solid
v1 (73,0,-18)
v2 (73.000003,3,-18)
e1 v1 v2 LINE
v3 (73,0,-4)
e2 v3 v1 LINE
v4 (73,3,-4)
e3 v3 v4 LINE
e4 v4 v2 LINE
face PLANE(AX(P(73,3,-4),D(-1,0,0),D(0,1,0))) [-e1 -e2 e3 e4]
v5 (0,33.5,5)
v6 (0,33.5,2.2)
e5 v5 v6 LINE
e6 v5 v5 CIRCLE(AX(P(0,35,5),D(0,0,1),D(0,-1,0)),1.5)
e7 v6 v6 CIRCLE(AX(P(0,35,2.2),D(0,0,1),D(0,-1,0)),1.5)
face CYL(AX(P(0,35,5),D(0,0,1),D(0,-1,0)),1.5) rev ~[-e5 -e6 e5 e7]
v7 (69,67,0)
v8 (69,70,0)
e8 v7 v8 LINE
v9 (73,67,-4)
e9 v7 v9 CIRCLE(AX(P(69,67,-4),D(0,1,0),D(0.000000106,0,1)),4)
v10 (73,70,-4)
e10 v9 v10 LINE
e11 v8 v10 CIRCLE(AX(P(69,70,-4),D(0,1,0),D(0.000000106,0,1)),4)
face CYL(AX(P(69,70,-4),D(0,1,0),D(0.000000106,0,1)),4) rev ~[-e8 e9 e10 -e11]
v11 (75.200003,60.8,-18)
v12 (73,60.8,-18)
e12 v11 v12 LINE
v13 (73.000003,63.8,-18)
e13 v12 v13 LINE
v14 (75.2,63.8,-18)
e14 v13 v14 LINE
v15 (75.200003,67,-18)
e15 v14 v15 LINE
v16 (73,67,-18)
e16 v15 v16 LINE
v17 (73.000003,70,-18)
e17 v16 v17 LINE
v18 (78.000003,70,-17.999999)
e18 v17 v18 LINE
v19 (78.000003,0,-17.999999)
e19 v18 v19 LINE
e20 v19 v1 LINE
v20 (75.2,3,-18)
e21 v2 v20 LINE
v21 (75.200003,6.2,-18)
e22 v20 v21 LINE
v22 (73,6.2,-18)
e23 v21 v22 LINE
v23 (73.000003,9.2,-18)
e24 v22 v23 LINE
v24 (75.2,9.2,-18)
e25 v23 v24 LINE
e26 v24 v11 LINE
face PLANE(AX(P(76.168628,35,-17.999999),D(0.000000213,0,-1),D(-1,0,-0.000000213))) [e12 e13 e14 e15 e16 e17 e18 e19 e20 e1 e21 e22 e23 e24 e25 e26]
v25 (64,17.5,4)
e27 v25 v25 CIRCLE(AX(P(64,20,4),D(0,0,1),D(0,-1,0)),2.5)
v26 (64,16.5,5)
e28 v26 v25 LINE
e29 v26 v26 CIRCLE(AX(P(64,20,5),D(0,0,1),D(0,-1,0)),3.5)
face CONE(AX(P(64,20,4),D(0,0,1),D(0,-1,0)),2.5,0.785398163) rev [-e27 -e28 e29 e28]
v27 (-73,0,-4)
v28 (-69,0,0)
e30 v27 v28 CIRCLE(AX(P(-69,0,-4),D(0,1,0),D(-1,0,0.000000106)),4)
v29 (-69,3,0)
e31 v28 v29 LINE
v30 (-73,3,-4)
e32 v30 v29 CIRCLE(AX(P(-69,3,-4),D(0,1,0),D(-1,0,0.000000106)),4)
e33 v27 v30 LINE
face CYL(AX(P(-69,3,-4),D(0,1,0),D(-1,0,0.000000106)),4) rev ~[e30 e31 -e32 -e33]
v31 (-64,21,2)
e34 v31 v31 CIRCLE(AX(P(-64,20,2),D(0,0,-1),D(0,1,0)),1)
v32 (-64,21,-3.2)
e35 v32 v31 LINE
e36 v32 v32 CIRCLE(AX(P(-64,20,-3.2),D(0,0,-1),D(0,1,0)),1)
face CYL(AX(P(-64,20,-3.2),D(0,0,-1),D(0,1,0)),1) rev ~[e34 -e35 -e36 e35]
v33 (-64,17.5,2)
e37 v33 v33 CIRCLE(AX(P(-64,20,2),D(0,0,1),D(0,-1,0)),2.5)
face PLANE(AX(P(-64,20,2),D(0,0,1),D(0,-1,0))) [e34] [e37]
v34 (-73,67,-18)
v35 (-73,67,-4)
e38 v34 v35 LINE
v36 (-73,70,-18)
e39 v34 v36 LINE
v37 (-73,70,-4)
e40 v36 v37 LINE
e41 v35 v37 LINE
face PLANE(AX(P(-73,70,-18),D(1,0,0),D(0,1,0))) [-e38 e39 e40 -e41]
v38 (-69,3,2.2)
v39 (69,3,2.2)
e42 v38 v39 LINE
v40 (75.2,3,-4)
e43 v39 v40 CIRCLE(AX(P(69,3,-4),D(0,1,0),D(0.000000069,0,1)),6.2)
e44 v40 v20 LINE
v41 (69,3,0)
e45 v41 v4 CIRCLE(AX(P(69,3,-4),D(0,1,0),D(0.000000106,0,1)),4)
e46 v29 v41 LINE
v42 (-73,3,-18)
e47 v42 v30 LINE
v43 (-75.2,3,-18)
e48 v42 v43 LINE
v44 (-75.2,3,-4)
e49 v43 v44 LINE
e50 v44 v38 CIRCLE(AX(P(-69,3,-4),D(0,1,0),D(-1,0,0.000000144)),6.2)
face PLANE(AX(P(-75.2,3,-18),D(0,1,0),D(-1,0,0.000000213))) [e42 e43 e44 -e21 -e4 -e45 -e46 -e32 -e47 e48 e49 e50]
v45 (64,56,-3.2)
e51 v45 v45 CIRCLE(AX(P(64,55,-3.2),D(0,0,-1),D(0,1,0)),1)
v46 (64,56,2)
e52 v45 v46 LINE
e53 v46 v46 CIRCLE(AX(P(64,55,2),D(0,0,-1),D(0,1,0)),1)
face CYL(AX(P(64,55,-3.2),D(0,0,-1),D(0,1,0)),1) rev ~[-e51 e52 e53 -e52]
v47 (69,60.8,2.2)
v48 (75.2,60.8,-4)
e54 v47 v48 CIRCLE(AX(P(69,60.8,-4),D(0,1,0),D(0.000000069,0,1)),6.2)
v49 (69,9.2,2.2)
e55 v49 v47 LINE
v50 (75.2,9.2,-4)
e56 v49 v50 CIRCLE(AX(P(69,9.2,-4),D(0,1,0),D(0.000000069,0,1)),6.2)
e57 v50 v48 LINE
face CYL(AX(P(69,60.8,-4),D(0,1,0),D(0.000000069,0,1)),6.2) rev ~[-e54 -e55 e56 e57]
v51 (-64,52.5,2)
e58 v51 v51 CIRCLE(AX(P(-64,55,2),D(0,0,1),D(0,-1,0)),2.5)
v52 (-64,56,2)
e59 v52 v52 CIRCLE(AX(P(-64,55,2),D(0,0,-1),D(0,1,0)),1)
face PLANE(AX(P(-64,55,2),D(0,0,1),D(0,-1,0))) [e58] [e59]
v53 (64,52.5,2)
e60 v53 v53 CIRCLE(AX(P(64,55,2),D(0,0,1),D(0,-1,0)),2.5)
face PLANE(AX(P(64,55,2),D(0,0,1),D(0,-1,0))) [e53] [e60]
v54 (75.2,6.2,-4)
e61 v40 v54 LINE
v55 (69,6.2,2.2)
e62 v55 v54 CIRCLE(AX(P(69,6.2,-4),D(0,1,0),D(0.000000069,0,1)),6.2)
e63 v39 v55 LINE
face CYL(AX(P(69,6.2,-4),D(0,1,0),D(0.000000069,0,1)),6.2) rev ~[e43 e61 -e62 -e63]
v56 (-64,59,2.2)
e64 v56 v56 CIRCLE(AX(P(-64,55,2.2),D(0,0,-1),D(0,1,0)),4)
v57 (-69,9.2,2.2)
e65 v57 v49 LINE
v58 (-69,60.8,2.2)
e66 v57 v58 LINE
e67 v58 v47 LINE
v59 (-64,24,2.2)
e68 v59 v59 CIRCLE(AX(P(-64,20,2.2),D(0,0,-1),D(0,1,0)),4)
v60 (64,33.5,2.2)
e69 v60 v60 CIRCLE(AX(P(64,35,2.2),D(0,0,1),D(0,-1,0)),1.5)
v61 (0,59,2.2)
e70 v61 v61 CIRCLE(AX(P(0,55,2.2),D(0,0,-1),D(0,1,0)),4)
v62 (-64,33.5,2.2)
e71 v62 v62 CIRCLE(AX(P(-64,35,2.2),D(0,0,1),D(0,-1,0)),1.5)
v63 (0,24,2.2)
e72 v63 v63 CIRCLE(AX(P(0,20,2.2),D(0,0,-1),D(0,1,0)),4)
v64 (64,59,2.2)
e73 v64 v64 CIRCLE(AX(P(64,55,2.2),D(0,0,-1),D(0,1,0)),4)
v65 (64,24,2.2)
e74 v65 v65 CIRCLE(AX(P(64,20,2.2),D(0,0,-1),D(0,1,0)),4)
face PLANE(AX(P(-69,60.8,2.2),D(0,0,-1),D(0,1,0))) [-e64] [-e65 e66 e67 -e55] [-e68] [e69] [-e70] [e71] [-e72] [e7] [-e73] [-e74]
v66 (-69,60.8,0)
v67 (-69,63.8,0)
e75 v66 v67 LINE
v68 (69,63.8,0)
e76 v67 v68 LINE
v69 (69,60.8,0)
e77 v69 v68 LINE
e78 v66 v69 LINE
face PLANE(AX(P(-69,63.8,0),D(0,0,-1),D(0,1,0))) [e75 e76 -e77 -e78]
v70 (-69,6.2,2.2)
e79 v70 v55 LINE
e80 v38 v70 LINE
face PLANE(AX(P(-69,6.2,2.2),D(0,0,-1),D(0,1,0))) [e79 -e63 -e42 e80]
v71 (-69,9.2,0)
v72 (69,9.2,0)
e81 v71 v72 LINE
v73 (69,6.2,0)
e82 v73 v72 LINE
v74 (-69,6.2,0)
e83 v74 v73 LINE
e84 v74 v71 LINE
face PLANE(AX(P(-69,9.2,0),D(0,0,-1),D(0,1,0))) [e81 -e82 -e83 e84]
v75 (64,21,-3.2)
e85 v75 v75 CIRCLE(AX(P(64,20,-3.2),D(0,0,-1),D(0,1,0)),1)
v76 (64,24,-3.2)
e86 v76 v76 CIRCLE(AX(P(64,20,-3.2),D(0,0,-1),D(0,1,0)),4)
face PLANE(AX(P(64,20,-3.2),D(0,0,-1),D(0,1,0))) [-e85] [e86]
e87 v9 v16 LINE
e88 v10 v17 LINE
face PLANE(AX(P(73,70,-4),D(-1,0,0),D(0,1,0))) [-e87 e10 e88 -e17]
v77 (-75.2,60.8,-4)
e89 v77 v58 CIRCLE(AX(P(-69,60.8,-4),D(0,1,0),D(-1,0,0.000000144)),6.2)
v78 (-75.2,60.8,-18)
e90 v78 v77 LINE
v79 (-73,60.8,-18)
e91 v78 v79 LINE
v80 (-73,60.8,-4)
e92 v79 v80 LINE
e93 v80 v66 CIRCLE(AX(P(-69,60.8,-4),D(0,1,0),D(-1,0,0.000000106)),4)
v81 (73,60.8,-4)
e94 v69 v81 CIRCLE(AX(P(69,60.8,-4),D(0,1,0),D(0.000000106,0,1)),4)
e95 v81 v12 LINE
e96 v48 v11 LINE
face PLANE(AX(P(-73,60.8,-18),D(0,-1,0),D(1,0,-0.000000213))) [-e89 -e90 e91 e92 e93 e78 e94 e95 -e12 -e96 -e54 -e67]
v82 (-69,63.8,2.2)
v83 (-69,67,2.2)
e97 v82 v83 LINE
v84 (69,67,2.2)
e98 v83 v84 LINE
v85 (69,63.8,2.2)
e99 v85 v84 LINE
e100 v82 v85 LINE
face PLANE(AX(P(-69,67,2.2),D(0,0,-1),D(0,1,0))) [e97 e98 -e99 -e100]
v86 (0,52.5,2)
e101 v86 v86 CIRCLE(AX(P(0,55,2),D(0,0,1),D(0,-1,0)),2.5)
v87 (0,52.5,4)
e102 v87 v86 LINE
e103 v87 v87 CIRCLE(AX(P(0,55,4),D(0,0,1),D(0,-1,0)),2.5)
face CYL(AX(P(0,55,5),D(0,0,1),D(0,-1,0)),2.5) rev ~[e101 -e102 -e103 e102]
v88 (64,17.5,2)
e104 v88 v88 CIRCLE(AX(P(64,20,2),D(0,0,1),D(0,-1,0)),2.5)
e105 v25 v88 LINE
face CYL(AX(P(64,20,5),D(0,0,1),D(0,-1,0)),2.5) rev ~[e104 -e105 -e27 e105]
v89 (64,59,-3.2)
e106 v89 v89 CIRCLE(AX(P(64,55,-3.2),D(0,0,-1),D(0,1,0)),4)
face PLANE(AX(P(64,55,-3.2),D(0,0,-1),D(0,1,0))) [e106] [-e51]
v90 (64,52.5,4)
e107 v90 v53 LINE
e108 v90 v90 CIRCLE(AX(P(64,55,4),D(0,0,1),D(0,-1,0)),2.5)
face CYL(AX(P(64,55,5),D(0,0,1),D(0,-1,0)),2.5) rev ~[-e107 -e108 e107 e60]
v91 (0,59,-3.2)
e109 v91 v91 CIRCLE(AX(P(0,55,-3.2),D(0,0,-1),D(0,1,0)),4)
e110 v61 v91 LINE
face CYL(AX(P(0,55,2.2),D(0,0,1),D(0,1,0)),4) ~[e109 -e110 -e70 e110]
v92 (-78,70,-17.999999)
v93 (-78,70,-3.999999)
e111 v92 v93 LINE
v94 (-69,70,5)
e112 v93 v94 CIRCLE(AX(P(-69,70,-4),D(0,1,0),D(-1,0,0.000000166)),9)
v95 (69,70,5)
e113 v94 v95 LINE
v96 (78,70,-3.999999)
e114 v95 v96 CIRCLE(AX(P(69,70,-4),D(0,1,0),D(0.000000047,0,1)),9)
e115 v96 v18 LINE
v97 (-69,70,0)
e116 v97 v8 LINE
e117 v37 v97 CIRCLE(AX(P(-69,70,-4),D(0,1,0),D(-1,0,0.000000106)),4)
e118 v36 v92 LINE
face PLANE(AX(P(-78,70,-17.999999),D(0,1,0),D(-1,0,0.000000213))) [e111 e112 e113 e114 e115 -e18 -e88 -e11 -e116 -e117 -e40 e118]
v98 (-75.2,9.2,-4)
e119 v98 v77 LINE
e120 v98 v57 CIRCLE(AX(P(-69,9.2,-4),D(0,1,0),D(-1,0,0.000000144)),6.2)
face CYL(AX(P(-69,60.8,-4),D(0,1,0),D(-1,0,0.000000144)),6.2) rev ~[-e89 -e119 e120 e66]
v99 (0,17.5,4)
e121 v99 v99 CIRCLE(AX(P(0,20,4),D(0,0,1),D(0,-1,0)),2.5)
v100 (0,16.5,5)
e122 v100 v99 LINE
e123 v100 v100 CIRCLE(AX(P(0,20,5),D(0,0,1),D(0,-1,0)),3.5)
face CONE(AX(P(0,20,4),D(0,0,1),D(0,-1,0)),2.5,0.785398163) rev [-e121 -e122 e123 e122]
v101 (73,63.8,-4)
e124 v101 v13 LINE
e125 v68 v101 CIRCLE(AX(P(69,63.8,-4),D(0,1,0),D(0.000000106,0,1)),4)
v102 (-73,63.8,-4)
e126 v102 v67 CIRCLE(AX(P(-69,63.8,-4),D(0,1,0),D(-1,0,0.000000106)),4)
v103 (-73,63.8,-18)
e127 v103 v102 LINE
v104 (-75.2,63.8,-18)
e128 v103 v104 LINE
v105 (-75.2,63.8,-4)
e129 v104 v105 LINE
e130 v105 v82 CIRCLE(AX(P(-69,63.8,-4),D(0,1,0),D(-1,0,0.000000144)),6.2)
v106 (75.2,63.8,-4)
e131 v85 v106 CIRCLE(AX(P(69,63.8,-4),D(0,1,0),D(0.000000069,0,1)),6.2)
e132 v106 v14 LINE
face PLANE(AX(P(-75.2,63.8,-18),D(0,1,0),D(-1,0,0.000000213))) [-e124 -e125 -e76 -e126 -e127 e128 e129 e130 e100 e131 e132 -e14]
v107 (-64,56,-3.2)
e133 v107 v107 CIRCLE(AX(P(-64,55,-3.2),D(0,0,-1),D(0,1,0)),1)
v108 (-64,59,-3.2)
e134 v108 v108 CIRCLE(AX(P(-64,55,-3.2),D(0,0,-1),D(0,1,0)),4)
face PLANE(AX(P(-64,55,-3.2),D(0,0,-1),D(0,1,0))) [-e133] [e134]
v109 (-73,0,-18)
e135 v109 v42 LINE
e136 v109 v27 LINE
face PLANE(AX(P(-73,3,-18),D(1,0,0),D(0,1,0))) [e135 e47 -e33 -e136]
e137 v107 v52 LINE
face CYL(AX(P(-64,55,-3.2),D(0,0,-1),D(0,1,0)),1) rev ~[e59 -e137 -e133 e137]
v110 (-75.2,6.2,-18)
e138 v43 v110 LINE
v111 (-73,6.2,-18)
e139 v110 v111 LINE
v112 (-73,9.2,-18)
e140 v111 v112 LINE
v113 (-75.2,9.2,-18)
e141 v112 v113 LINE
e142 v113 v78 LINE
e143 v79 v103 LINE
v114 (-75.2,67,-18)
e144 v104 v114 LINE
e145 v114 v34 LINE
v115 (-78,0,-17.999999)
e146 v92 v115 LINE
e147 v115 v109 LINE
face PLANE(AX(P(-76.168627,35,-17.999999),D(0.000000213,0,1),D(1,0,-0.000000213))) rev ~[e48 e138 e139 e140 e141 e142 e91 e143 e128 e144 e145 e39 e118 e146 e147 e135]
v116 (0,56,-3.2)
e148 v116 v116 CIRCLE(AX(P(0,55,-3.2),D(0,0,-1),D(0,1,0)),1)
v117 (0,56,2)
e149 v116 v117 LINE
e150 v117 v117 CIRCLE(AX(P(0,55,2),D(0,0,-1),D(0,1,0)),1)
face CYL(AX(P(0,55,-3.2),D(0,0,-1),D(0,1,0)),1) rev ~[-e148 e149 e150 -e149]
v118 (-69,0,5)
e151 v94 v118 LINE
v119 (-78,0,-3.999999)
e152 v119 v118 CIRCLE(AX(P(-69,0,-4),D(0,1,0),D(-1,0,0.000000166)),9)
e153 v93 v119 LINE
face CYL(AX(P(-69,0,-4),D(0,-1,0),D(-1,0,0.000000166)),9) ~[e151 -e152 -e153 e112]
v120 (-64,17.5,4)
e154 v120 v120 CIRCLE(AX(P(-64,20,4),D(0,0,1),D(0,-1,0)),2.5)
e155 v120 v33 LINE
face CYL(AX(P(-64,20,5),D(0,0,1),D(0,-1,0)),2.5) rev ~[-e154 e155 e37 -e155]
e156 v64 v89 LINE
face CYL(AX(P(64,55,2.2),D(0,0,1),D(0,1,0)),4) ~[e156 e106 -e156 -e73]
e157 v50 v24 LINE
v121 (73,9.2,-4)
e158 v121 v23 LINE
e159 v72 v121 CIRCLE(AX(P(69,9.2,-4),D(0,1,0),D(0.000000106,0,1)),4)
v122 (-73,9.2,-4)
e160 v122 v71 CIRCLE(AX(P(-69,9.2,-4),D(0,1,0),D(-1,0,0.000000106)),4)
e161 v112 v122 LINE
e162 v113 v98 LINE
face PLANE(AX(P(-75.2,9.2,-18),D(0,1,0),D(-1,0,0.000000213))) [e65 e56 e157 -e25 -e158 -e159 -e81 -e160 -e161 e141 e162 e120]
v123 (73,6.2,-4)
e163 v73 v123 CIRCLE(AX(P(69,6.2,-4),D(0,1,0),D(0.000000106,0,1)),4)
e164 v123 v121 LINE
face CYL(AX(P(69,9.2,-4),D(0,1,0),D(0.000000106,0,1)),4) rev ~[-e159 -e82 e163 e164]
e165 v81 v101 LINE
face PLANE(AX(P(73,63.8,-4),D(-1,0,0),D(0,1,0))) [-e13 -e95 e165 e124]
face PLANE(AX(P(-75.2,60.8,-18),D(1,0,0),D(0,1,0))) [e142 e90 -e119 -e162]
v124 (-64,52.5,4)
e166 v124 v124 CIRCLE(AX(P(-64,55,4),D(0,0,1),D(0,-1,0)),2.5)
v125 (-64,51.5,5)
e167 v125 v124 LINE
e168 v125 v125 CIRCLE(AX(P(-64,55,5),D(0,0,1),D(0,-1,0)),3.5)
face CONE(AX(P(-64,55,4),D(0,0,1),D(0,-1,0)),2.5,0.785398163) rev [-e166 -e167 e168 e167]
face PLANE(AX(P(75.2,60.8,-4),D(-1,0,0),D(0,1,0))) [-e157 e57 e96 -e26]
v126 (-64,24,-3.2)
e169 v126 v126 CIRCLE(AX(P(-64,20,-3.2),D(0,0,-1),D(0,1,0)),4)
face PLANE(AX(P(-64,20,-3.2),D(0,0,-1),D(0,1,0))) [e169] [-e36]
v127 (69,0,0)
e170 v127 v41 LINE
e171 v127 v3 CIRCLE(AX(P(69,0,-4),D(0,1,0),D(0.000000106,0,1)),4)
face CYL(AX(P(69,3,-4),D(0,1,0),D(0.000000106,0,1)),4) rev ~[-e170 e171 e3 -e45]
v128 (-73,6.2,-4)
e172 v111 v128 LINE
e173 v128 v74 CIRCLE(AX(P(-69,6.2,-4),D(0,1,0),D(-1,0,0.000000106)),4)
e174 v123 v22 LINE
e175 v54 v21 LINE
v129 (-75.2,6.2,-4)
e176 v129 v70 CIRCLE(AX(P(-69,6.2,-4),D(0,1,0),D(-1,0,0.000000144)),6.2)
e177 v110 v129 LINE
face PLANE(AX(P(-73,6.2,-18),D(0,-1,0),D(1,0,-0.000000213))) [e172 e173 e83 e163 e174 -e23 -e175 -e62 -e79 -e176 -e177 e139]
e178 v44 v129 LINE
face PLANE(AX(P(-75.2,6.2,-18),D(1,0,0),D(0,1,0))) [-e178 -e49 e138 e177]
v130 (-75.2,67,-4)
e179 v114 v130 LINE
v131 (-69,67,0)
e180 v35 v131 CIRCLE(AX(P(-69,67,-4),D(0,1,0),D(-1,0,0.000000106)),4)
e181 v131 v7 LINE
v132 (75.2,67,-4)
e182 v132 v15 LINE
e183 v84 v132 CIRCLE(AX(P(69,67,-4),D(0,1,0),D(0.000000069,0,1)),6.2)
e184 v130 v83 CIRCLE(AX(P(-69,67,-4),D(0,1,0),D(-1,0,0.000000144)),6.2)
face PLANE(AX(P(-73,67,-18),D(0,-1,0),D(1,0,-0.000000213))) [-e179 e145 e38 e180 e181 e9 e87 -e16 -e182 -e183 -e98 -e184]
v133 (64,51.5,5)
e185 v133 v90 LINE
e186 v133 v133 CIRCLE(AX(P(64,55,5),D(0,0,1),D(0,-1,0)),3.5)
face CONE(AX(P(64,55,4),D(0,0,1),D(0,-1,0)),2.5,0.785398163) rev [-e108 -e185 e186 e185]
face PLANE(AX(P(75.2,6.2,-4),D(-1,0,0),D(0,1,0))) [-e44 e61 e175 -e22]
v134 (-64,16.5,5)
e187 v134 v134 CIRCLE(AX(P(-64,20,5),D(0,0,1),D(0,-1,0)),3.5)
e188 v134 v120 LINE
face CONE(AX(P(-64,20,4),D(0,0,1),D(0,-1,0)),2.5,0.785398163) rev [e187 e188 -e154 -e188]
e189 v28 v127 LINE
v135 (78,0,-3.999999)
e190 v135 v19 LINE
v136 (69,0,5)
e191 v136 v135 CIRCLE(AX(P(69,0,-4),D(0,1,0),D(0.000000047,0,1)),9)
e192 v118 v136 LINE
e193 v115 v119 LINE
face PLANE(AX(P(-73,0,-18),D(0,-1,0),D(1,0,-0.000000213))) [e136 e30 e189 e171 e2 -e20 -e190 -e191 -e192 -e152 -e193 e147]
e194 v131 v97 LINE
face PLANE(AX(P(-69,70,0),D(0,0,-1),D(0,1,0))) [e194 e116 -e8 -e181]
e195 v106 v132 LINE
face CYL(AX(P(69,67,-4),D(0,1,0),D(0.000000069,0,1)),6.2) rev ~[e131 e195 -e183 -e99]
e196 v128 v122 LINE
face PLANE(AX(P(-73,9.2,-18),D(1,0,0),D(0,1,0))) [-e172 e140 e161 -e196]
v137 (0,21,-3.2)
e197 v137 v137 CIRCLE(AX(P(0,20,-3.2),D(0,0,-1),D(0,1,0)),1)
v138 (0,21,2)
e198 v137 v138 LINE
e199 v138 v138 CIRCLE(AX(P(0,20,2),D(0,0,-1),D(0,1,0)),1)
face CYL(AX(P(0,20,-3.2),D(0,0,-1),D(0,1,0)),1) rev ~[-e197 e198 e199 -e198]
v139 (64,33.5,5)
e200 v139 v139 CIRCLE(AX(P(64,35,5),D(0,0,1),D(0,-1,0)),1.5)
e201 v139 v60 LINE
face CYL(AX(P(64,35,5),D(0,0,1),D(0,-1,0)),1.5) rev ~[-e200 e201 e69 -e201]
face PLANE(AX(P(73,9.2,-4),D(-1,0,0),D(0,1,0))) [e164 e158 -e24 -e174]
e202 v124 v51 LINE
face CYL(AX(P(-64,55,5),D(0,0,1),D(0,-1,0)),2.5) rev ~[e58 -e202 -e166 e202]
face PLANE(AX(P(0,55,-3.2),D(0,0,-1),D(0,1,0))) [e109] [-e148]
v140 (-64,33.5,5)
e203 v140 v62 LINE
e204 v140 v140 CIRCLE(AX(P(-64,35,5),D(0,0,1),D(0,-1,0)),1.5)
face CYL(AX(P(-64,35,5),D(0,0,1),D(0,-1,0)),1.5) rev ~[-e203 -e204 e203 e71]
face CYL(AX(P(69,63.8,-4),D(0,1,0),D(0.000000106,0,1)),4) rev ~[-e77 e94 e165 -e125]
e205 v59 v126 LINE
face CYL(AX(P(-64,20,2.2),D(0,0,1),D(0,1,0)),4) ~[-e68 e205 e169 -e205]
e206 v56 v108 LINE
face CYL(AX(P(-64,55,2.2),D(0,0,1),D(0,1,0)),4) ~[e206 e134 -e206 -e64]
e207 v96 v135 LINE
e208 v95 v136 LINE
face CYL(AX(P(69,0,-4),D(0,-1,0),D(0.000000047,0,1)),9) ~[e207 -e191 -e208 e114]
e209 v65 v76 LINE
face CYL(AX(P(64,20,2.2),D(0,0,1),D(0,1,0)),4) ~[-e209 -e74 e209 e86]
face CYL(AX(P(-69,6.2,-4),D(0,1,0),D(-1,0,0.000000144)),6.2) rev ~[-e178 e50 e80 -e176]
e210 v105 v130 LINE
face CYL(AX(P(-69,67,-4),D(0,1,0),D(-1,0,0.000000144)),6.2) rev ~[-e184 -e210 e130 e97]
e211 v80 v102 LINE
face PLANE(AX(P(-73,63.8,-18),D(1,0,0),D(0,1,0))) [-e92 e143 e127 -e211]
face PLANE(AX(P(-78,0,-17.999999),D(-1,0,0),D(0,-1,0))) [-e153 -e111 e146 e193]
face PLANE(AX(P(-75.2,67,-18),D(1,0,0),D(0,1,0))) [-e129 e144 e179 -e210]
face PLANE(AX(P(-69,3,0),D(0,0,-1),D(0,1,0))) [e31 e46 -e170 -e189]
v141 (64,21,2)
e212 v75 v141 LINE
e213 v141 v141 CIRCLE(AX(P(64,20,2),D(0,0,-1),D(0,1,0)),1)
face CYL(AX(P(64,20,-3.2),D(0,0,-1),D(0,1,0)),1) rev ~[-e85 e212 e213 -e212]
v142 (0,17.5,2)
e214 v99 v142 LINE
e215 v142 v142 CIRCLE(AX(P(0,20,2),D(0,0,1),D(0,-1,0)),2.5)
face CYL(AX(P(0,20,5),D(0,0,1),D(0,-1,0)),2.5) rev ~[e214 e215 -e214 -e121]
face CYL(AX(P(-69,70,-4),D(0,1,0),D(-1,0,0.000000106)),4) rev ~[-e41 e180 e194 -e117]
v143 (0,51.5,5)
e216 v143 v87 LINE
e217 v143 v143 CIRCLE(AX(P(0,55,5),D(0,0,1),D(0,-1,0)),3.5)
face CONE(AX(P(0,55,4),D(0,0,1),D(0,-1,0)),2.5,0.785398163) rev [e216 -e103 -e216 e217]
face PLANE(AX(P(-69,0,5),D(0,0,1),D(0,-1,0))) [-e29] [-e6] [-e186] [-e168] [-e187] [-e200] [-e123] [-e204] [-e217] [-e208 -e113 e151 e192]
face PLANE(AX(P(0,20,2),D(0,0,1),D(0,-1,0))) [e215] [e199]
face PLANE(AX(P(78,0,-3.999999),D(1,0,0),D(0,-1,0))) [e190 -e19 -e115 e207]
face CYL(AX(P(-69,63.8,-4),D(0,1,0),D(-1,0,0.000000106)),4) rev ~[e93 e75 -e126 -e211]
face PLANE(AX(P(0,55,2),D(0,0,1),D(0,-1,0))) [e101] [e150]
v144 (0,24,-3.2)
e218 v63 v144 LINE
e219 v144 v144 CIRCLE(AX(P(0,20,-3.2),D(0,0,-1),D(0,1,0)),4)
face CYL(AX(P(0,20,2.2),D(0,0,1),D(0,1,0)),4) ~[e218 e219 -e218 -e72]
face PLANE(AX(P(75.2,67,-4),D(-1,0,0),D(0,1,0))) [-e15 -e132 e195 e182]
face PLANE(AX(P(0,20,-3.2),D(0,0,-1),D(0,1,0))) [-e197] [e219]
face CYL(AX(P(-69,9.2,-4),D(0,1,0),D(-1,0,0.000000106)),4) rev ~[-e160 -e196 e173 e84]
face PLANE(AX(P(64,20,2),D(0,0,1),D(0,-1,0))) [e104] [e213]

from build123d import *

# Parameters (mm, degrees)
SKETCH002_R     = 1.5
POCKET_DEPTH    = 23.001
SKETCH003_R     = 4
PAD_DEPTH       = 5.4
SKETCH004_R     = 1
POCKET001_DEPTH = 8.201
SKETCH005_R     = 2.5
POCKET002_DEPTH = 3
CHAMFER_SIZE    = 1
CHAMFER001_SIZE = 1
CHAMFER002_SIZE = 1
CHAMFER003_SIZE = 1
CHAMFER004_SIZE = 1
CHAMFER005_SIZE = 1


with BuildPart() as part:
    # AdditivePipe: sweep along a path in Sketch001
    with BuildLine(Plane.XZ) as additivepipe_path:
        Line((-73, -18), (-73, -4))
        ThreePointArc((-73, -4), (-71.828427, -1.171573), (-69, 0))
        Line((-69, 0), (0, 0))
        Line((0, 0), (69, 0))
        ThreePointArc((69, 0), (71.828427, -1.171573), (73, -4))
        Line((73, -4), (73, -18))
    # Sketch → AdditivePipe (sweep)
    with BuildSketch(Plane.YZ):
        Polygon((0, 5), (70, 5), (70, 0), (67, 0), (67, 2.2), (63.8, 2.2), (63.8, 0), (60.8, 0), (60.8, 2.2), (9.2, 2.2), (9.2, 0), (6.2, 0), (6.2, 2.2), (3, 2.2), (3, 0), (0, 0), align=None)
    sweep(path=additivepipe_path.line)

    # Sketch002 (on Face35 of AdditivePipe) → Pocket (cut, through all)
    with BuildSketch(Plane(origin=(0, 0, 5), x_dir=(0, -1, 0), z_dir=(0, 0, 1))):
        with Locations((-35, -64)):
            Circle(SKETCH002_R)
        with Locations((-35, 64)):
            Circle(SKETCH002_R)
        with Locations((-35, 0)):
            Circle(SKETCH002_R)
    extrude(amount=-POCKET_DEPTH, mode=Mode.SUBTRACT)

    # Sketch003 (on Face43 of Pocket) → Pad (join)
    with BuildSketch(Plane.YX.offset(-2.2)):
        with Locations((20, 64)):
            Circle(SKETCH003_R)
        with Locations((55, 64)):
            Circle(SKETCH003_R)
        with Locations((20, 0)):
            Circle(SKETCH003_R)
        with Locations((55, 0)):
            Circle(SKETCH003_R)
        with Locations((20, -64)):
            Circle(SKETCH003_R)
        with Locations((55, -64)):
            Circle(SKETCH003_R)
    extrude(amount=PAD_DEPTH)

    # Sketch004 (on Face88 of Pad) → Pocket001 (cut, through all)
    with BuildSketch(Plane.YX.offset(3.2)):
        with Locations((20, -64)):
            Circle(SKETCH004_R)
        with Locations((55, -64)):
            Circle(SKETCH004_R)
        with Locations((55, 0)):
            Circle(SKETCH004_R)
        with Locations((20, 0)):
            Circle(SKETCH004_R)
        with Locations((20, 64)):
            Circle(SKETCH004_R)
        with Locations((55, 64)):
            Circle(SKETCH004_R)
    extrude(amount=-POCKET001_DEPTH, mode=Mode.SUBTRACT)

    # Sketch005 (on Face35 of Pocket001) → Pocket002 (cut)
    with BuildSketch(Plane(origin=(0, 0, 5), x_dir=(0, -1, 0), z_dir=(0, 0, 1))):
        with Locations((-55, 64)):
            Circle(SKETCH005_R)
        with Locations((-20, 64)):
            Circle(SKETCH005_R)
        with Locations((-55, 0)):
            Circle(SKETCH005_R)
        with Locations((-20, 0)):
            Circle(SKETCH005_R)
        with Locations((-55, -64)):
            Circle(SKETCH005_R)
        with Locations((-20, -64)):
            Circle(SKETCH005_R)
    extrude(amount=-POCKET002_DEPTH, mode=Mode.SUBTRACT)

    # Chamfer
    chamfer_edges = [part.edges().sort_by_distance(p)[0] for p in [
        (-64, 57.5, 5),
    ]]
    chamfer(chamfer_edges, length=CHAMFER_SIZE)

    # Chamfer001
    chamfer001_edges = [part.edges().sort_by_distance(p)[0] for p in [
        (-2.5, 55, 5),
        (2.5, 55, 5),
    ]]
    chamfer(chamfer001_edges, length=CHAMFER001_SIZE)

    # Chamfer002
    chamfer002_edges = [part.edges().sort_by_distance(p)[0] for p in [
        (64, 57.5, 5),
    ]]
    chamfer(chamfer002_edges, length=CHAMFER002_SIZE)

    # Chamfer003
    chamfer003_edges = [part.edges().sort_by_distance(p)[0] for p in [
        (64, 22.5, 5),
    ]]
    chamfer(chamfer003_edges, length=CHAMFER003_SIZE)

    # Chamfer004
    chamfer004_edges = [part.edges().sort_by_distance(p)[0] for p in [
        (-2.5, 20, 5),
        (2.5, 20, 5),
    ]]
    chamfer(chamfer004_edges, length=CHAMFER004_SIZE)

    # Chamfer005
    chamfer005_edges = [part.edges().sort_by_distance(p)[0] for p in [
        (-64, 22.5, 5),
    ]]
    chamfer(chamfer005_edges, length=CHAMFER005_SIZE)


solid = part.part
